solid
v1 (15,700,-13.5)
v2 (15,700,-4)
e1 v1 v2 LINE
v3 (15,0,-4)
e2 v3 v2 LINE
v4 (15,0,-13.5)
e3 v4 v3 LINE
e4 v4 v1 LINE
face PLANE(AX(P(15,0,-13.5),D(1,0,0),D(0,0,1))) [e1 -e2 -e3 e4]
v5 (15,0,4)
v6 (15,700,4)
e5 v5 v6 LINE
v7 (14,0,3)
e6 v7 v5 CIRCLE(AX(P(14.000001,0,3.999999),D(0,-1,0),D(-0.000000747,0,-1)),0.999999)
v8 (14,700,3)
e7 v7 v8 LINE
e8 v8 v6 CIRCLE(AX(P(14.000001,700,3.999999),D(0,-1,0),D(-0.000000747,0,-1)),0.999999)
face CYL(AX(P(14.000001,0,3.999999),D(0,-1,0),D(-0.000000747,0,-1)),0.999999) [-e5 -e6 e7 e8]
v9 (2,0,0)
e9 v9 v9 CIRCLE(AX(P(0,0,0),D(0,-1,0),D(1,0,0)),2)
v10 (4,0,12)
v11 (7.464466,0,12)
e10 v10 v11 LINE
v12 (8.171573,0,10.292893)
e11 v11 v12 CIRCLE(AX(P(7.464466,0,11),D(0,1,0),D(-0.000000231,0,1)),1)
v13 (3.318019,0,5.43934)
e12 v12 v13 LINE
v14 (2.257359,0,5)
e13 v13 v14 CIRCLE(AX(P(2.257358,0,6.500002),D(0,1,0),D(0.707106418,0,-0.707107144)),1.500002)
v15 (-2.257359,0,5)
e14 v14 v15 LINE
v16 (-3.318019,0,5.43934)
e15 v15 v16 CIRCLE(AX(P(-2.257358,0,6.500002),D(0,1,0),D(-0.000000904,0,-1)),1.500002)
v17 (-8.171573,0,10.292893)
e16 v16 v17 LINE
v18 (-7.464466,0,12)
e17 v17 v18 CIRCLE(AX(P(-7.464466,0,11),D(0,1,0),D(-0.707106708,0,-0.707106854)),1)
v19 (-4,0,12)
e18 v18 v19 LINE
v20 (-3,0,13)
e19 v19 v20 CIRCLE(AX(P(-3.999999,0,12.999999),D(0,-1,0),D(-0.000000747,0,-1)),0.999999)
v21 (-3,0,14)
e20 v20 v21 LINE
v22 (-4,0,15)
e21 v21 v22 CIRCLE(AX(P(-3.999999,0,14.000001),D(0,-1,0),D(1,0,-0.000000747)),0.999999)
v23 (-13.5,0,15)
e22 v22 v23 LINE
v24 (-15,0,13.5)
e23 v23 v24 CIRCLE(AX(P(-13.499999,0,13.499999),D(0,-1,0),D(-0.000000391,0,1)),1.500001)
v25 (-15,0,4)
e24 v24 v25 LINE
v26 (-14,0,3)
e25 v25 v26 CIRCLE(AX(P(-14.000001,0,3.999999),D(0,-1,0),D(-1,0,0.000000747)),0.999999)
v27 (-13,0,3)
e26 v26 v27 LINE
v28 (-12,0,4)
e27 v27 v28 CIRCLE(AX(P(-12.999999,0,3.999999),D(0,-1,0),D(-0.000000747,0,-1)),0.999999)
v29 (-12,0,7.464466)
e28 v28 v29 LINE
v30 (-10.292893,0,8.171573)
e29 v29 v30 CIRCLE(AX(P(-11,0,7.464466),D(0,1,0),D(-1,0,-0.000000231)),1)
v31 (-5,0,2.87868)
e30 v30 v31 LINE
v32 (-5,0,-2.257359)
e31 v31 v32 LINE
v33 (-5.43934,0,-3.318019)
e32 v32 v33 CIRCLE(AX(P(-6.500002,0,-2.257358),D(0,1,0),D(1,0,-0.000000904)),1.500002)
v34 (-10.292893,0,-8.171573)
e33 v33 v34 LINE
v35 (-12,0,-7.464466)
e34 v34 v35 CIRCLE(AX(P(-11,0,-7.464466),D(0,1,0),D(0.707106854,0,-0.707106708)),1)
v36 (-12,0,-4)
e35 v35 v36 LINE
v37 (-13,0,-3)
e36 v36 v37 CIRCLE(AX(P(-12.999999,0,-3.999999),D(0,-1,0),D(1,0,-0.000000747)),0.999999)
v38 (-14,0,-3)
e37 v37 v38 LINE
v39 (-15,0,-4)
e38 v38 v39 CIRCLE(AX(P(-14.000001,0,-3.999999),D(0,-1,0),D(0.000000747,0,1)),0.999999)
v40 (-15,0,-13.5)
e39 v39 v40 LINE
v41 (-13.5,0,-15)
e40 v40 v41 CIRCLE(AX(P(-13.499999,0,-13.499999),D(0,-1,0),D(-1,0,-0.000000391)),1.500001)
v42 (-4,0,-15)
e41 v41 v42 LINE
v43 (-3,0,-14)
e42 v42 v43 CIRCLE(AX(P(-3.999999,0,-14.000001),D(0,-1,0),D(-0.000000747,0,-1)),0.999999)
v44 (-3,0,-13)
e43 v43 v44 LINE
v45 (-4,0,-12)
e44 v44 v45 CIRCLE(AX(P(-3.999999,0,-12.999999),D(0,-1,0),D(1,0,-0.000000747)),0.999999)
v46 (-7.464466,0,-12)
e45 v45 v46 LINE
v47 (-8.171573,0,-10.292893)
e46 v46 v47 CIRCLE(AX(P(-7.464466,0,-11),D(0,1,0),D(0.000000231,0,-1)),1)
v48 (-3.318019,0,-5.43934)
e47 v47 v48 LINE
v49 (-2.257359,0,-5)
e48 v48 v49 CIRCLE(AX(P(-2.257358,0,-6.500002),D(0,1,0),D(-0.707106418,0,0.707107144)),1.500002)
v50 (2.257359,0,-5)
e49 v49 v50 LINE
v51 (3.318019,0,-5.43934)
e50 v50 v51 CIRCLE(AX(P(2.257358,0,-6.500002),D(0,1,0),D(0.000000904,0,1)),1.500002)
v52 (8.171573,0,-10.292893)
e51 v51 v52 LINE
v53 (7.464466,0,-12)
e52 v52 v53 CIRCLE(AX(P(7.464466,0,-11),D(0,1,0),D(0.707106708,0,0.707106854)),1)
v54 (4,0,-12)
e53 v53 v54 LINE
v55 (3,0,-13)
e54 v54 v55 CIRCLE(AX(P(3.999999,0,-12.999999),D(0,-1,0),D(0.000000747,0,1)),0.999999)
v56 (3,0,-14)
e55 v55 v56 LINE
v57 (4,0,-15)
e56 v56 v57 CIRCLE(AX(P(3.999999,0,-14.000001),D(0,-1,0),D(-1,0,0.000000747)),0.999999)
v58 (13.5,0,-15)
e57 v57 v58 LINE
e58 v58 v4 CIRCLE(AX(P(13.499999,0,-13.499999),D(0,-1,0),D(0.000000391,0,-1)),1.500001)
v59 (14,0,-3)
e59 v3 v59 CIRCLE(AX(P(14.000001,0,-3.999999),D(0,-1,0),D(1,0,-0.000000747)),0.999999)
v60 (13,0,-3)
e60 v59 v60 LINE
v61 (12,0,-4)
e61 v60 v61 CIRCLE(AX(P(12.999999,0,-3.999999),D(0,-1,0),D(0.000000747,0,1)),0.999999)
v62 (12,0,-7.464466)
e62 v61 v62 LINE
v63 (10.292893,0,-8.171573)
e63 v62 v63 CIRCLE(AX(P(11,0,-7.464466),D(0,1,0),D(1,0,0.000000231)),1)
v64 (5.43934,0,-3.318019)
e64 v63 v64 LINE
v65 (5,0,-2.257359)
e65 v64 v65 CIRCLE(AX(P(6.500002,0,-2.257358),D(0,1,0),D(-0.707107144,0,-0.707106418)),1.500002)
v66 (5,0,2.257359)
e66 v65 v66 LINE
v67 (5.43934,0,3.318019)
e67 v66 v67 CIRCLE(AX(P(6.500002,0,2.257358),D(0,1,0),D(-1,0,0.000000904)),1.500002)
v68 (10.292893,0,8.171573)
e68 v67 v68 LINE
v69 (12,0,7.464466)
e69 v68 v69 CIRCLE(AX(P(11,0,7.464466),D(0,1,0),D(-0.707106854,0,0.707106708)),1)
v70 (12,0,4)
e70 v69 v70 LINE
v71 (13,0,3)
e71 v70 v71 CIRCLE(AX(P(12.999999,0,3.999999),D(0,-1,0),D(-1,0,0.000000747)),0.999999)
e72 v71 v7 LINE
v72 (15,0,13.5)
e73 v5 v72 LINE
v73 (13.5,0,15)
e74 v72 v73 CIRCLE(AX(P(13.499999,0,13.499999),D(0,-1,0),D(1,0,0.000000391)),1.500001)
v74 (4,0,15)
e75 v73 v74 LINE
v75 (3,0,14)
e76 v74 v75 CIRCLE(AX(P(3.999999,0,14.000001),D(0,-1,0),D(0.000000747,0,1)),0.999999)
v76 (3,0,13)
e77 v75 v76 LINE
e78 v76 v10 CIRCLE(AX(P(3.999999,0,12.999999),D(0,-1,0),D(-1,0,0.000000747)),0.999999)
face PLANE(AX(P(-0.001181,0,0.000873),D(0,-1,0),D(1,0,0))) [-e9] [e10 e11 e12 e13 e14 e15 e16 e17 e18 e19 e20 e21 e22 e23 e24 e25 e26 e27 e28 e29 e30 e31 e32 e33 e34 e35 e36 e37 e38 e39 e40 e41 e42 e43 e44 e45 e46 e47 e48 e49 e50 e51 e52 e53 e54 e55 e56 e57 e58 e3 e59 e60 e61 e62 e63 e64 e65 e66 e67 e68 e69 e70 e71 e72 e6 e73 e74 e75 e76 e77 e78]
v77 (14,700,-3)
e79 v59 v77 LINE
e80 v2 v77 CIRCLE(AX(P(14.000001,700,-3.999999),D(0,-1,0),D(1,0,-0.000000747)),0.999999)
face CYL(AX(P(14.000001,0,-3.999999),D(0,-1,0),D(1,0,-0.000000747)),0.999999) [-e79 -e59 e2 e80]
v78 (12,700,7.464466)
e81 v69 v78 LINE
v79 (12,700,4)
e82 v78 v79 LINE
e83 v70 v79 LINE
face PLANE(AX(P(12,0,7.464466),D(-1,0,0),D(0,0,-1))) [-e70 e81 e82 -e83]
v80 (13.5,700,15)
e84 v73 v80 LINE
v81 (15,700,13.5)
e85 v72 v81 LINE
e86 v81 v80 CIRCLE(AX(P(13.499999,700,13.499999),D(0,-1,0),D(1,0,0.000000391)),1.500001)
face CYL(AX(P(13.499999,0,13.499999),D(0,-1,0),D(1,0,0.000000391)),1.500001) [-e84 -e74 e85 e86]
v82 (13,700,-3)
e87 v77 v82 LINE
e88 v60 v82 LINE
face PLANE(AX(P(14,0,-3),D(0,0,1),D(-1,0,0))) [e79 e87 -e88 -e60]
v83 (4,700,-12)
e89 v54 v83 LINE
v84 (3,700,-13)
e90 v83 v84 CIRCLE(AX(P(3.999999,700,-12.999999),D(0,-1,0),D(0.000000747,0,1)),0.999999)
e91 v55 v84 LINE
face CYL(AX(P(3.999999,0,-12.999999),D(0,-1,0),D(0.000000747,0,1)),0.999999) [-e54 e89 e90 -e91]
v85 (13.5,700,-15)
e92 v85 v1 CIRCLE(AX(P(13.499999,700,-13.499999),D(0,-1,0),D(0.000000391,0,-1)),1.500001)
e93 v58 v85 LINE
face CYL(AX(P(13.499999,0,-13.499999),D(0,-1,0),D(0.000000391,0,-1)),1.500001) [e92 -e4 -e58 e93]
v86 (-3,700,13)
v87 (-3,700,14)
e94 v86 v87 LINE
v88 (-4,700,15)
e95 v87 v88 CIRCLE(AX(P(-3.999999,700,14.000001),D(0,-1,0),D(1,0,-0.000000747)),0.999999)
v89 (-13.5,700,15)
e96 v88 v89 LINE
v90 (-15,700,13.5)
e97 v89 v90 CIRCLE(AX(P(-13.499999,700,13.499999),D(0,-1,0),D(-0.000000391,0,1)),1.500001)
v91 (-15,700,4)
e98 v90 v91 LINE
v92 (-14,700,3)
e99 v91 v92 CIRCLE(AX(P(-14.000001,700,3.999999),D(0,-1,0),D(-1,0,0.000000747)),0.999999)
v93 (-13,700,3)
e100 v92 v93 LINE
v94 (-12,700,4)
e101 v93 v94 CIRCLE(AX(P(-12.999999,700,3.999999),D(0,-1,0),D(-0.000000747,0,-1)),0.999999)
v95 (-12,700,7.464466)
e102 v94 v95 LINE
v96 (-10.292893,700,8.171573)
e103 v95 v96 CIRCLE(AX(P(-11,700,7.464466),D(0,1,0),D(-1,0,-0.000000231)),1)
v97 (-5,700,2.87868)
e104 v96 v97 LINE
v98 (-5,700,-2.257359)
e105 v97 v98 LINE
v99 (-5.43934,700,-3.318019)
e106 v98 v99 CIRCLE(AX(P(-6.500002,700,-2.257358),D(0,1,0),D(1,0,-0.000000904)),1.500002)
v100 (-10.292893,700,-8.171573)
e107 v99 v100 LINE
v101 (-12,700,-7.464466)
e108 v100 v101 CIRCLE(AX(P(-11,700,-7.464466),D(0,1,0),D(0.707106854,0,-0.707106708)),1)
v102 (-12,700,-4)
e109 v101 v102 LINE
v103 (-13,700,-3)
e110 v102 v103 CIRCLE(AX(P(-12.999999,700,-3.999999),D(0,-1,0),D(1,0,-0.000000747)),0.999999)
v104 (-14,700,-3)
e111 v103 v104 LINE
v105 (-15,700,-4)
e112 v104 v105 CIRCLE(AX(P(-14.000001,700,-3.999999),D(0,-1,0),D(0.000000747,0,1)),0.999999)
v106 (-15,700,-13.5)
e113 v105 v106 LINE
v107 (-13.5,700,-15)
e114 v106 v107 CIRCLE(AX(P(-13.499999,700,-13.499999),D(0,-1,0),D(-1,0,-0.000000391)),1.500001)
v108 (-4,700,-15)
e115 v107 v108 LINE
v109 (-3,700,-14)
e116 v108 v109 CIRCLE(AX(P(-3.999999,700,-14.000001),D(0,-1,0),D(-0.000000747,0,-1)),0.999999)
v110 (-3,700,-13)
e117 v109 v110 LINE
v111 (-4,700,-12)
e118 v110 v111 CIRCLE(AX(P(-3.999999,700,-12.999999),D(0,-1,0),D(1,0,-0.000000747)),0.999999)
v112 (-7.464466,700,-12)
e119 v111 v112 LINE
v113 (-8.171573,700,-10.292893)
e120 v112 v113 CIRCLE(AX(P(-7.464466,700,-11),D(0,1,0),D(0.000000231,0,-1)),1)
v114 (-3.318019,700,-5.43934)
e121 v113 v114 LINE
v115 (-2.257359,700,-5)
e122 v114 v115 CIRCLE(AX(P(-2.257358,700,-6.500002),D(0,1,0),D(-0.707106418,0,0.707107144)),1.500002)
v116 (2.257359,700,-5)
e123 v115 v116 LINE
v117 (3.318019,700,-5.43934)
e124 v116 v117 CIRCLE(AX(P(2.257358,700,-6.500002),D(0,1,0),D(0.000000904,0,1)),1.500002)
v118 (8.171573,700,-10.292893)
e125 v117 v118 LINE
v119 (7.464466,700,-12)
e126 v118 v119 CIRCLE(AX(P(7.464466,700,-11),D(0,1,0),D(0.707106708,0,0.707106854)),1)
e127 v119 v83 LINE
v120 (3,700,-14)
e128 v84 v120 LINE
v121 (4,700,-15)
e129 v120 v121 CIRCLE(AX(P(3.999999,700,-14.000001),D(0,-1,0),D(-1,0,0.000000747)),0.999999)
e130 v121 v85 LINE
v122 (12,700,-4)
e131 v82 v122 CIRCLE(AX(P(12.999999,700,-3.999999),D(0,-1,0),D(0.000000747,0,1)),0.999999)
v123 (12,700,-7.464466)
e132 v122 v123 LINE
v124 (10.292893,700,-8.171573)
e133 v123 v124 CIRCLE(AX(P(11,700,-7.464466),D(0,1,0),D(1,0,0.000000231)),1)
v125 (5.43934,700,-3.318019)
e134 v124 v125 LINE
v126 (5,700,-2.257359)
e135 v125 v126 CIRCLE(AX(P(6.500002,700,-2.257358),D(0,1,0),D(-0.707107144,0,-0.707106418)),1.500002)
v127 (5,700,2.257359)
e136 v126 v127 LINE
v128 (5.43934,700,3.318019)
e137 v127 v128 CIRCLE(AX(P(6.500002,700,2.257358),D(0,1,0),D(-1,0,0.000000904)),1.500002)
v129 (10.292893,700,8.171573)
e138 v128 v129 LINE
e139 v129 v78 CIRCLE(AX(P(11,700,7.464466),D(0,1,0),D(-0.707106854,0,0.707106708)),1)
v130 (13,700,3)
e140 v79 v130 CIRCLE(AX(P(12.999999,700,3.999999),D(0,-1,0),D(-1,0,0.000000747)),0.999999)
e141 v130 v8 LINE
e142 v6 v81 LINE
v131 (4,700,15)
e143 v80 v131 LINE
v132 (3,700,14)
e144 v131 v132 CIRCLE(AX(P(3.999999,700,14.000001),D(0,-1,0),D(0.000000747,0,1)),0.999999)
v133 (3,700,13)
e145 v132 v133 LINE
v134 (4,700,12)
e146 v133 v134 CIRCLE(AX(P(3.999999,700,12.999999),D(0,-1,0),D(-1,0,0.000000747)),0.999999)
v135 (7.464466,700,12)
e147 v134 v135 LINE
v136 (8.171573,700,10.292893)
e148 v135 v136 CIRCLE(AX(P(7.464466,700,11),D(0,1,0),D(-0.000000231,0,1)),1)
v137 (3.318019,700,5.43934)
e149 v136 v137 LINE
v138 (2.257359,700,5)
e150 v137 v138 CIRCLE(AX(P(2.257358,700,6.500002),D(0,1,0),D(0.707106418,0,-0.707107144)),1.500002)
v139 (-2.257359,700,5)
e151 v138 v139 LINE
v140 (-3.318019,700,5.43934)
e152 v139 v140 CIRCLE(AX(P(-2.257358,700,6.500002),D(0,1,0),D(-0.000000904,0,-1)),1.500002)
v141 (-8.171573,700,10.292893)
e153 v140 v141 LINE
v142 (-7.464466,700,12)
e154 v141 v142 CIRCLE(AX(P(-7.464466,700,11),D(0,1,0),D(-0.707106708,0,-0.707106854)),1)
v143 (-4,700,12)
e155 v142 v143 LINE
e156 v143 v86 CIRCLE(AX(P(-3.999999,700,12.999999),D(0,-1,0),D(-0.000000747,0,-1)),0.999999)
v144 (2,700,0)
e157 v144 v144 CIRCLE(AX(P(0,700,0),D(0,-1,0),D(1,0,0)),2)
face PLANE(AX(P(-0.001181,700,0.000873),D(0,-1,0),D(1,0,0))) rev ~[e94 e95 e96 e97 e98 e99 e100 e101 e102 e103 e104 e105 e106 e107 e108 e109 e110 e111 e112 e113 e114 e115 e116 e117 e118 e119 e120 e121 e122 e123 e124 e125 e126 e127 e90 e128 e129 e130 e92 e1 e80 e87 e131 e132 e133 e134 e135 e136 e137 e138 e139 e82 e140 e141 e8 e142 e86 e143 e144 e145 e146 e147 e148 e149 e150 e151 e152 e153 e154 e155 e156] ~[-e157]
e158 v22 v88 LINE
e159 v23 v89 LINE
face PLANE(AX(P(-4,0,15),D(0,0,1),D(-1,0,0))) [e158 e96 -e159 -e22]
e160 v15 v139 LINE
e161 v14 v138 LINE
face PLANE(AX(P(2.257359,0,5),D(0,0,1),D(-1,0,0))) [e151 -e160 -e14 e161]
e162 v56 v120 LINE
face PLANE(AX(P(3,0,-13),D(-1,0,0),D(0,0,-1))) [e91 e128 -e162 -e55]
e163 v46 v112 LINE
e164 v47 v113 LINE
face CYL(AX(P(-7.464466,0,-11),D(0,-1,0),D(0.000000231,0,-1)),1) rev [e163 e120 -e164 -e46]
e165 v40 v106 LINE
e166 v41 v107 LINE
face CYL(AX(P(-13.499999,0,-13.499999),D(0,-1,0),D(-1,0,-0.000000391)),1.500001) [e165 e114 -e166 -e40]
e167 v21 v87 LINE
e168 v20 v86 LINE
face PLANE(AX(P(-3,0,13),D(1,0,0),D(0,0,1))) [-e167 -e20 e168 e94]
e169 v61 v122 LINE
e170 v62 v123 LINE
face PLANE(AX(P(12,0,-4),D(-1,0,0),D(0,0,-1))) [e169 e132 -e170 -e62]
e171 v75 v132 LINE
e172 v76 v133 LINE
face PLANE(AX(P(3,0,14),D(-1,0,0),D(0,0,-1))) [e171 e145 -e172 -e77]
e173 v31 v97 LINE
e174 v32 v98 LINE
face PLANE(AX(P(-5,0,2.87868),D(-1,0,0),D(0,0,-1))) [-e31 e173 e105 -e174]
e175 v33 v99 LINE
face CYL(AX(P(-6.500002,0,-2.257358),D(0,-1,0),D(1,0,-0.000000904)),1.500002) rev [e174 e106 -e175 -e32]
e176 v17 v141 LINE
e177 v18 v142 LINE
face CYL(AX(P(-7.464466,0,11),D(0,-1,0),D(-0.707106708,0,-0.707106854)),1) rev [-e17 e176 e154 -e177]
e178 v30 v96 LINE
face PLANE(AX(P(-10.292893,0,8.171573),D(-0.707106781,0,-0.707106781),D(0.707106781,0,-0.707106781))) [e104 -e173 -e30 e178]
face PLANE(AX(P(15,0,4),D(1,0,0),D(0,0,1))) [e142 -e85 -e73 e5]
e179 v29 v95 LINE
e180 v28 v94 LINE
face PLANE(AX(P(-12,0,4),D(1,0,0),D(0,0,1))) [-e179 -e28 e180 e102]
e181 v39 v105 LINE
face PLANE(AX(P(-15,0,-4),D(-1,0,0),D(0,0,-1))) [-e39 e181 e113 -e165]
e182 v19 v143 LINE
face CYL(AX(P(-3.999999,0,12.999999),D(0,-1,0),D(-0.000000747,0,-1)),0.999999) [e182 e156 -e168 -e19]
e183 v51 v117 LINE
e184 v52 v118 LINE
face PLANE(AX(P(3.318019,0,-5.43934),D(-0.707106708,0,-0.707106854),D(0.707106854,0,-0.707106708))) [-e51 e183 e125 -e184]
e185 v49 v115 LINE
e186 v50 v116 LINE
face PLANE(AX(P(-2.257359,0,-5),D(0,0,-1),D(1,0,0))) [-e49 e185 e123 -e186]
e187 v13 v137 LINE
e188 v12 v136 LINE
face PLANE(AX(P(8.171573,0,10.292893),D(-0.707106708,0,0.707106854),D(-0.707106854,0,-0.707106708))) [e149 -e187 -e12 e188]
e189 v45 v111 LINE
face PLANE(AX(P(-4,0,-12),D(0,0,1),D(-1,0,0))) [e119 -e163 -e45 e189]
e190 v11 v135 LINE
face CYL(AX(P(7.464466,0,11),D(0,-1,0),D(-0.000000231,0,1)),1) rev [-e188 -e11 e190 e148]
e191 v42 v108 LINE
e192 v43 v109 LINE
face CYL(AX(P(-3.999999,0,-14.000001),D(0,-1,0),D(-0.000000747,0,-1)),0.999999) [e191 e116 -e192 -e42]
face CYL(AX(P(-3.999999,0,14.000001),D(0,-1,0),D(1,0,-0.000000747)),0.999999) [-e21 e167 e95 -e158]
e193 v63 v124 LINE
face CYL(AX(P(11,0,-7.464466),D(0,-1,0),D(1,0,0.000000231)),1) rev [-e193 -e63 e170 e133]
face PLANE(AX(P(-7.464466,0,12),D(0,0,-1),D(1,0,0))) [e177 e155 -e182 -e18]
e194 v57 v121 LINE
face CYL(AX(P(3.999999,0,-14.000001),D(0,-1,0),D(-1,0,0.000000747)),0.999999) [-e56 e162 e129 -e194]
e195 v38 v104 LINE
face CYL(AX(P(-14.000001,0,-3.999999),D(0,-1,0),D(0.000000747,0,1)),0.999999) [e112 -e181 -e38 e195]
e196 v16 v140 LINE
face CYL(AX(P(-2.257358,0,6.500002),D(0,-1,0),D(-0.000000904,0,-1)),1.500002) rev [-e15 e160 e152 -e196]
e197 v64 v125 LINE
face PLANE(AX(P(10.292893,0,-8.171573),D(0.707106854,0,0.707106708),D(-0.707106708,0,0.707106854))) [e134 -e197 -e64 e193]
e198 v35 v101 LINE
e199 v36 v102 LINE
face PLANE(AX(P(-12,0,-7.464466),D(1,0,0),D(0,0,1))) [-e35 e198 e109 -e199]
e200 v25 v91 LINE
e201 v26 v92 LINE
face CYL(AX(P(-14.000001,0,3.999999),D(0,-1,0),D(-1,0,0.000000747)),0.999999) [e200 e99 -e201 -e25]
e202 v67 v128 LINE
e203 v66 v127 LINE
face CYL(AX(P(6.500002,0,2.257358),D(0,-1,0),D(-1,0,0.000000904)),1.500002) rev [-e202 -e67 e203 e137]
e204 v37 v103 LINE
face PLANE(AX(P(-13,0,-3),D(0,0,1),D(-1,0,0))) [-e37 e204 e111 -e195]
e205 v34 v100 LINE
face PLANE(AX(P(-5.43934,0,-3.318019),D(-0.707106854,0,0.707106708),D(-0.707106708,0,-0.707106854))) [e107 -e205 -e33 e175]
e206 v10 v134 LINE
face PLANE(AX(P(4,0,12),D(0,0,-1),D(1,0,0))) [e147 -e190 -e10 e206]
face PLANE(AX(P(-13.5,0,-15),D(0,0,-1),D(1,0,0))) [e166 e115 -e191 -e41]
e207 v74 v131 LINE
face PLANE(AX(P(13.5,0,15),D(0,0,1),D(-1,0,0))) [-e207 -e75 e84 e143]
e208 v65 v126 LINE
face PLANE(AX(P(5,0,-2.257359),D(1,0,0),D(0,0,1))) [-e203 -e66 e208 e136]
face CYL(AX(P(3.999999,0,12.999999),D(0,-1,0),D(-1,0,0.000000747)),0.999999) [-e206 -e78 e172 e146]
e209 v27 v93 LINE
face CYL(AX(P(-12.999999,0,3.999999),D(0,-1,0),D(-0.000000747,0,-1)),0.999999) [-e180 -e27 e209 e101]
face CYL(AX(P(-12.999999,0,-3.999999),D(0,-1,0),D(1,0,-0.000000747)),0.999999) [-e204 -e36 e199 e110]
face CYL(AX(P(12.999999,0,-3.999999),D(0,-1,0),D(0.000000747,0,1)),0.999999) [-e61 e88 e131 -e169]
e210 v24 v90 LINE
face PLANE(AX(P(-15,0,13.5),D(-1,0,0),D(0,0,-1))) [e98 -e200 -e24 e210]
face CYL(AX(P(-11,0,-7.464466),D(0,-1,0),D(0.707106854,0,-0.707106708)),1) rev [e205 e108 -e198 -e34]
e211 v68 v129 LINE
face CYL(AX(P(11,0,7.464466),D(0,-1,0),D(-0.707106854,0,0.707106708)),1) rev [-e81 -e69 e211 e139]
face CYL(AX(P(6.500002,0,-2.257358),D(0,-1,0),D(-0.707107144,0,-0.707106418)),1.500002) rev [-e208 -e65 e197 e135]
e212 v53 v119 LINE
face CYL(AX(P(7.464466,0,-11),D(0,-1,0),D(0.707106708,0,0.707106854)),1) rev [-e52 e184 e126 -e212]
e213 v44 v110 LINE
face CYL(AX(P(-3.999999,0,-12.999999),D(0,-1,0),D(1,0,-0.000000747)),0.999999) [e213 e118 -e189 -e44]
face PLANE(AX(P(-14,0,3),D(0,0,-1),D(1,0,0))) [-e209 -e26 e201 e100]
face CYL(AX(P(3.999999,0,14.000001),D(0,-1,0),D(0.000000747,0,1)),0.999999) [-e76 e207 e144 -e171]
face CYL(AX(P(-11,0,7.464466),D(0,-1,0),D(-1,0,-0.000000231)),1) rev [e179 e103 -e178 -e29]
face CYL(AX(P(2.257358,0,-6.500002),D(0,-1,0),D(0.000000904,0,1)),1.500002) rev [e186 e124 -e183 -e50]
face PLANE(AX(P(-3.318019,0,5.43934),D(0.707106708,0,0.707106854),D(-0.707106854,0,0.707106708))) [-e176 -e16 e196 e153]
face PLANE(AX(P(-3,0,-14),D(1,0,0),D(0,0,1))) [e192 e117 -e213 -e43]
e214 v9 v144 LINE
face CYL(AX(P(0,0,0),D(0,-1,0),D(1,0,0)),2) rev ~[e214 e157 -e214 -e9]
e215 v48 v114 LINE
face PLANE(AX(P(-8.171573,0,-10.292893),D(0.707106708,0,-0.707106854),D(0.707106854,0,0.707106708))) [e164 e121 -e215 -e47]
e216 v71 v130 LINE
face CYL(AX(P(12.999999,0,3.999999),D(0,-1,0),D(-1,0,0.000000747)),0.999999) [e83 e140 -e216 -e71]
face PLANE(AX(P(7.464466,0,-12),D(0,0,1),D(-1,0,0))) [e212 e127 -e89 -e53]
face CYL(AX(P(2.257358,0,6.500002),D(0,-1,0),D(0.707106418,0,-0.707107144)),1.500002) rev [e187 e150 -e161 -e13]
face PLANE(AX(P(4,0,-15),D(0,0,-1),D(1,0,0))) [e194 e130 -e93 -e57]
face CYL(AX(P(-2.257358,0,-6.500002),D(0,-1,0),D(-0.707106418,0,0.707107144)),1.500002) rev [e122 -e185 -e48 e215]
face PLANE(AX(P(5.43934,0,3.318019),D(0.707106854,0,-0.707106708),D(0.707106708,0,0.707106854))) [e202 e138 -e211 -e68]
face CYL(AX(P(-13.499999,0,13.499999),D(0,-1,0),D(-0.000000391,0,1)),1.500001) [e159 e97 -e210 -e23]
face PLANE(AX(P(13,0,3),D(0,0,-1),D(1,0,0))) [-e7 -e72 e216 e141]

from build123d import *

# Parameters (mm, degrees)
F0_R     = 2
F1_DEPTH = 700


with BuildPart() as f1:
    # F0 (on Front) → F1 (new body)
    with BuildSketch(Plane.XZ):
        with BuildLine():
            ThreePointArc((15, 13.5), (14.56066, 14.56066), (13.5, 15))
            Line((13.5, 15), (4, 15))
            ThreePointArc((4, 15), (3.292893, 14.707107), (3, 14))
            Line((3, 14), (3, 13))
            ThreePointArc((3, 13), (3.292893, 12.292893), (4, 12))
            Line((4, 12), (7.464466, 12))
            ThreePointArc((7.464466, 12), (8.388346, 11.382683), (8.171573, 10.292893))
            Line((8.171573, 10.292893), (3.318019, 5.43934))
            ThreePointArc((3.318019, 5.43934), (2.831384, 5.114181), (2.257359, 5))
            Line((2.257359, 5), (-2.257359, 5))
            ThreePointArc((-2.257359, 5), (-2.831384, 5.114181), (-3.318019, 5.43934))
            Line((-3.318019, 5.43934), (-8.171573, 10.292893))
            ThreePointArc((-8.171573, 10.292893), (-8.388346, 11.382683), (-7.464466, 12))
            Line((-7.464466, 12), (-4, 12))
            ThreePointArc((-4, 12), (-3.292893, 12.292893), (-3, 13))
            Line((-3, 13), (-3, 14))
            ThreePointArc((-3, 14), (-3.292893, 14.707107), (-4, 15))
            Line((-4, 15), (-13.5, 15))
            ThreePointArc((-13.5, 15), (-14.56066, 14.56066), (-15, 13.5))
            Line((-15, 13.5), (-15, 4))
            ThreePointArc((-15, 4), (-14.707107, 3.292893), (-14, 3))
            Line((-14, 3), (-13, 3))
            ThreePointArc((-13, 3), (-12.292893, 3.292893), (-12, 4))
            Line((-12, 4), (-12, 7.464466))
            ThreePointArc((-12, 7.464466), (-11.382683, 8.388346), (-10.292893, 8.171573))
            Line((-10.292893, 8.171573), (-5, 2.87868))
            Line((-5, 2.87868), (-5, -2.257359))
            ThreePointArc((-5, -2.257359), (-5.114181, -2.831384), (-5.43934, -3.318019))
            Line((-5.43934, -3.318019), (-10.292893, -8.171573))
            ThreePointArc((-10.292893, -8.171573), (-11.382683, -8.388346), (-12, -7.464466))
            Line((-12, -7.464466), (-12, -4))
            ThreePointArc((-12, -4), (-12.292893, -3.292893), (-13, -3))
            Line((-13, -3), (-14, -3))
            ThreePointArc((-14, -3), (-14.707107, -3.292893), (-15, -4))
            Line((-15, -4), (-15, -13.5))
            ThreePointArc((-15, -13.5), (-14.56066, -14.56066), (-13.5, -15))
            Line((-13.5, -15), (-4, -15))
            ThreePointArc((-4, -15), (-3.292893, -14.707107), (-3, -14))
            Line((-3, -14), (-3, -13))
            ThreePointArc((-3, -13), (-3.292893, -12.292893), (-4, -12))
            Line((-4, -12), (-7.464466, -12))
            ThreePointArc((-7.464466, -12), (-8.388346, -11.382683), (-8.171573, -10.292893))
            Line((-8.171573, -10.292893), (-3.318019, -5.43934))
            ThreePointArc((-3.318019, -5.43934), (-2.831384, -5.114181), (-2.257359, -5))
            Line((-2.257359, -5), (2.257359, -5))
            ThreePointArc((2.257359, -5), (2.831384, -5.114181), (3.318019, -5.43934))
            Line((3.318019, -5.43934), (8.171573, -10.292893))
            ThreePointArc((8.171573, -10.292893), (8.388346, -11.382683), (7.464466, -12))
            Line((7.464466, -12), (4, -12))
            ThreePointArc((4, -12), (3.292893, -12.292893), (3, -13))
            Line((3, -13), (3, -14))
            ThreePointArc((3, -14), (3.292893, -14.707107), (4, -15))
            Line((4, -15), (13.5, -15))
            ThreePointArc((13.5, -15), (14.56066, -14.56066), (15, -13.5))
            Line((15, -13.5), (15, -4))
            ThreePointArc((15, -4), (14.707107, -3.292893), (14, -3))
            Line((14, -3), (13, -3))
            ThreePointArc((13, -3), (12.292893, -3.292893), (12, -4))
            Line((12, -4), (12, -7.464466))
            ThreePointArc((12, -7.464466), (11.382683, -8.388346), (10.292893, -8.171573))
            Line((10.292893, -8.171573), (5.43934, -3.318019))
            ThreePointArc((5.43934, -3.318019), (5.114181, -2.831384), (5, -2.257359))
            Line((5, -2.257359), (5, 2.257359))
            ThreePointArc((5, 2.257359), (5.114181, 2.831384), (5.43934, 3.318019))
            Line((5.43934, 3.318019), (10.292893, 8.171573))
            ThreePointArc((10.292893, 8.171573), (11.382683, 8.388346), (12, 7.464466))
            Line((12, 7.464466), (12, 4))
            ThreePointArc((12, 4), (12.292893, 3.292893), (13, 3))
            Line((13, 3), (14, 3))
            ThreePointArc((14, 3), (14.707107, 3.292893), (15, 4))
            Line((15, 4), (15, 13.5))
        make_face()
        Circle(F0_R, mode=Mode.SUBTRACT)
    extrude(amount=-F1_DEPTH)


solid = f1.part
